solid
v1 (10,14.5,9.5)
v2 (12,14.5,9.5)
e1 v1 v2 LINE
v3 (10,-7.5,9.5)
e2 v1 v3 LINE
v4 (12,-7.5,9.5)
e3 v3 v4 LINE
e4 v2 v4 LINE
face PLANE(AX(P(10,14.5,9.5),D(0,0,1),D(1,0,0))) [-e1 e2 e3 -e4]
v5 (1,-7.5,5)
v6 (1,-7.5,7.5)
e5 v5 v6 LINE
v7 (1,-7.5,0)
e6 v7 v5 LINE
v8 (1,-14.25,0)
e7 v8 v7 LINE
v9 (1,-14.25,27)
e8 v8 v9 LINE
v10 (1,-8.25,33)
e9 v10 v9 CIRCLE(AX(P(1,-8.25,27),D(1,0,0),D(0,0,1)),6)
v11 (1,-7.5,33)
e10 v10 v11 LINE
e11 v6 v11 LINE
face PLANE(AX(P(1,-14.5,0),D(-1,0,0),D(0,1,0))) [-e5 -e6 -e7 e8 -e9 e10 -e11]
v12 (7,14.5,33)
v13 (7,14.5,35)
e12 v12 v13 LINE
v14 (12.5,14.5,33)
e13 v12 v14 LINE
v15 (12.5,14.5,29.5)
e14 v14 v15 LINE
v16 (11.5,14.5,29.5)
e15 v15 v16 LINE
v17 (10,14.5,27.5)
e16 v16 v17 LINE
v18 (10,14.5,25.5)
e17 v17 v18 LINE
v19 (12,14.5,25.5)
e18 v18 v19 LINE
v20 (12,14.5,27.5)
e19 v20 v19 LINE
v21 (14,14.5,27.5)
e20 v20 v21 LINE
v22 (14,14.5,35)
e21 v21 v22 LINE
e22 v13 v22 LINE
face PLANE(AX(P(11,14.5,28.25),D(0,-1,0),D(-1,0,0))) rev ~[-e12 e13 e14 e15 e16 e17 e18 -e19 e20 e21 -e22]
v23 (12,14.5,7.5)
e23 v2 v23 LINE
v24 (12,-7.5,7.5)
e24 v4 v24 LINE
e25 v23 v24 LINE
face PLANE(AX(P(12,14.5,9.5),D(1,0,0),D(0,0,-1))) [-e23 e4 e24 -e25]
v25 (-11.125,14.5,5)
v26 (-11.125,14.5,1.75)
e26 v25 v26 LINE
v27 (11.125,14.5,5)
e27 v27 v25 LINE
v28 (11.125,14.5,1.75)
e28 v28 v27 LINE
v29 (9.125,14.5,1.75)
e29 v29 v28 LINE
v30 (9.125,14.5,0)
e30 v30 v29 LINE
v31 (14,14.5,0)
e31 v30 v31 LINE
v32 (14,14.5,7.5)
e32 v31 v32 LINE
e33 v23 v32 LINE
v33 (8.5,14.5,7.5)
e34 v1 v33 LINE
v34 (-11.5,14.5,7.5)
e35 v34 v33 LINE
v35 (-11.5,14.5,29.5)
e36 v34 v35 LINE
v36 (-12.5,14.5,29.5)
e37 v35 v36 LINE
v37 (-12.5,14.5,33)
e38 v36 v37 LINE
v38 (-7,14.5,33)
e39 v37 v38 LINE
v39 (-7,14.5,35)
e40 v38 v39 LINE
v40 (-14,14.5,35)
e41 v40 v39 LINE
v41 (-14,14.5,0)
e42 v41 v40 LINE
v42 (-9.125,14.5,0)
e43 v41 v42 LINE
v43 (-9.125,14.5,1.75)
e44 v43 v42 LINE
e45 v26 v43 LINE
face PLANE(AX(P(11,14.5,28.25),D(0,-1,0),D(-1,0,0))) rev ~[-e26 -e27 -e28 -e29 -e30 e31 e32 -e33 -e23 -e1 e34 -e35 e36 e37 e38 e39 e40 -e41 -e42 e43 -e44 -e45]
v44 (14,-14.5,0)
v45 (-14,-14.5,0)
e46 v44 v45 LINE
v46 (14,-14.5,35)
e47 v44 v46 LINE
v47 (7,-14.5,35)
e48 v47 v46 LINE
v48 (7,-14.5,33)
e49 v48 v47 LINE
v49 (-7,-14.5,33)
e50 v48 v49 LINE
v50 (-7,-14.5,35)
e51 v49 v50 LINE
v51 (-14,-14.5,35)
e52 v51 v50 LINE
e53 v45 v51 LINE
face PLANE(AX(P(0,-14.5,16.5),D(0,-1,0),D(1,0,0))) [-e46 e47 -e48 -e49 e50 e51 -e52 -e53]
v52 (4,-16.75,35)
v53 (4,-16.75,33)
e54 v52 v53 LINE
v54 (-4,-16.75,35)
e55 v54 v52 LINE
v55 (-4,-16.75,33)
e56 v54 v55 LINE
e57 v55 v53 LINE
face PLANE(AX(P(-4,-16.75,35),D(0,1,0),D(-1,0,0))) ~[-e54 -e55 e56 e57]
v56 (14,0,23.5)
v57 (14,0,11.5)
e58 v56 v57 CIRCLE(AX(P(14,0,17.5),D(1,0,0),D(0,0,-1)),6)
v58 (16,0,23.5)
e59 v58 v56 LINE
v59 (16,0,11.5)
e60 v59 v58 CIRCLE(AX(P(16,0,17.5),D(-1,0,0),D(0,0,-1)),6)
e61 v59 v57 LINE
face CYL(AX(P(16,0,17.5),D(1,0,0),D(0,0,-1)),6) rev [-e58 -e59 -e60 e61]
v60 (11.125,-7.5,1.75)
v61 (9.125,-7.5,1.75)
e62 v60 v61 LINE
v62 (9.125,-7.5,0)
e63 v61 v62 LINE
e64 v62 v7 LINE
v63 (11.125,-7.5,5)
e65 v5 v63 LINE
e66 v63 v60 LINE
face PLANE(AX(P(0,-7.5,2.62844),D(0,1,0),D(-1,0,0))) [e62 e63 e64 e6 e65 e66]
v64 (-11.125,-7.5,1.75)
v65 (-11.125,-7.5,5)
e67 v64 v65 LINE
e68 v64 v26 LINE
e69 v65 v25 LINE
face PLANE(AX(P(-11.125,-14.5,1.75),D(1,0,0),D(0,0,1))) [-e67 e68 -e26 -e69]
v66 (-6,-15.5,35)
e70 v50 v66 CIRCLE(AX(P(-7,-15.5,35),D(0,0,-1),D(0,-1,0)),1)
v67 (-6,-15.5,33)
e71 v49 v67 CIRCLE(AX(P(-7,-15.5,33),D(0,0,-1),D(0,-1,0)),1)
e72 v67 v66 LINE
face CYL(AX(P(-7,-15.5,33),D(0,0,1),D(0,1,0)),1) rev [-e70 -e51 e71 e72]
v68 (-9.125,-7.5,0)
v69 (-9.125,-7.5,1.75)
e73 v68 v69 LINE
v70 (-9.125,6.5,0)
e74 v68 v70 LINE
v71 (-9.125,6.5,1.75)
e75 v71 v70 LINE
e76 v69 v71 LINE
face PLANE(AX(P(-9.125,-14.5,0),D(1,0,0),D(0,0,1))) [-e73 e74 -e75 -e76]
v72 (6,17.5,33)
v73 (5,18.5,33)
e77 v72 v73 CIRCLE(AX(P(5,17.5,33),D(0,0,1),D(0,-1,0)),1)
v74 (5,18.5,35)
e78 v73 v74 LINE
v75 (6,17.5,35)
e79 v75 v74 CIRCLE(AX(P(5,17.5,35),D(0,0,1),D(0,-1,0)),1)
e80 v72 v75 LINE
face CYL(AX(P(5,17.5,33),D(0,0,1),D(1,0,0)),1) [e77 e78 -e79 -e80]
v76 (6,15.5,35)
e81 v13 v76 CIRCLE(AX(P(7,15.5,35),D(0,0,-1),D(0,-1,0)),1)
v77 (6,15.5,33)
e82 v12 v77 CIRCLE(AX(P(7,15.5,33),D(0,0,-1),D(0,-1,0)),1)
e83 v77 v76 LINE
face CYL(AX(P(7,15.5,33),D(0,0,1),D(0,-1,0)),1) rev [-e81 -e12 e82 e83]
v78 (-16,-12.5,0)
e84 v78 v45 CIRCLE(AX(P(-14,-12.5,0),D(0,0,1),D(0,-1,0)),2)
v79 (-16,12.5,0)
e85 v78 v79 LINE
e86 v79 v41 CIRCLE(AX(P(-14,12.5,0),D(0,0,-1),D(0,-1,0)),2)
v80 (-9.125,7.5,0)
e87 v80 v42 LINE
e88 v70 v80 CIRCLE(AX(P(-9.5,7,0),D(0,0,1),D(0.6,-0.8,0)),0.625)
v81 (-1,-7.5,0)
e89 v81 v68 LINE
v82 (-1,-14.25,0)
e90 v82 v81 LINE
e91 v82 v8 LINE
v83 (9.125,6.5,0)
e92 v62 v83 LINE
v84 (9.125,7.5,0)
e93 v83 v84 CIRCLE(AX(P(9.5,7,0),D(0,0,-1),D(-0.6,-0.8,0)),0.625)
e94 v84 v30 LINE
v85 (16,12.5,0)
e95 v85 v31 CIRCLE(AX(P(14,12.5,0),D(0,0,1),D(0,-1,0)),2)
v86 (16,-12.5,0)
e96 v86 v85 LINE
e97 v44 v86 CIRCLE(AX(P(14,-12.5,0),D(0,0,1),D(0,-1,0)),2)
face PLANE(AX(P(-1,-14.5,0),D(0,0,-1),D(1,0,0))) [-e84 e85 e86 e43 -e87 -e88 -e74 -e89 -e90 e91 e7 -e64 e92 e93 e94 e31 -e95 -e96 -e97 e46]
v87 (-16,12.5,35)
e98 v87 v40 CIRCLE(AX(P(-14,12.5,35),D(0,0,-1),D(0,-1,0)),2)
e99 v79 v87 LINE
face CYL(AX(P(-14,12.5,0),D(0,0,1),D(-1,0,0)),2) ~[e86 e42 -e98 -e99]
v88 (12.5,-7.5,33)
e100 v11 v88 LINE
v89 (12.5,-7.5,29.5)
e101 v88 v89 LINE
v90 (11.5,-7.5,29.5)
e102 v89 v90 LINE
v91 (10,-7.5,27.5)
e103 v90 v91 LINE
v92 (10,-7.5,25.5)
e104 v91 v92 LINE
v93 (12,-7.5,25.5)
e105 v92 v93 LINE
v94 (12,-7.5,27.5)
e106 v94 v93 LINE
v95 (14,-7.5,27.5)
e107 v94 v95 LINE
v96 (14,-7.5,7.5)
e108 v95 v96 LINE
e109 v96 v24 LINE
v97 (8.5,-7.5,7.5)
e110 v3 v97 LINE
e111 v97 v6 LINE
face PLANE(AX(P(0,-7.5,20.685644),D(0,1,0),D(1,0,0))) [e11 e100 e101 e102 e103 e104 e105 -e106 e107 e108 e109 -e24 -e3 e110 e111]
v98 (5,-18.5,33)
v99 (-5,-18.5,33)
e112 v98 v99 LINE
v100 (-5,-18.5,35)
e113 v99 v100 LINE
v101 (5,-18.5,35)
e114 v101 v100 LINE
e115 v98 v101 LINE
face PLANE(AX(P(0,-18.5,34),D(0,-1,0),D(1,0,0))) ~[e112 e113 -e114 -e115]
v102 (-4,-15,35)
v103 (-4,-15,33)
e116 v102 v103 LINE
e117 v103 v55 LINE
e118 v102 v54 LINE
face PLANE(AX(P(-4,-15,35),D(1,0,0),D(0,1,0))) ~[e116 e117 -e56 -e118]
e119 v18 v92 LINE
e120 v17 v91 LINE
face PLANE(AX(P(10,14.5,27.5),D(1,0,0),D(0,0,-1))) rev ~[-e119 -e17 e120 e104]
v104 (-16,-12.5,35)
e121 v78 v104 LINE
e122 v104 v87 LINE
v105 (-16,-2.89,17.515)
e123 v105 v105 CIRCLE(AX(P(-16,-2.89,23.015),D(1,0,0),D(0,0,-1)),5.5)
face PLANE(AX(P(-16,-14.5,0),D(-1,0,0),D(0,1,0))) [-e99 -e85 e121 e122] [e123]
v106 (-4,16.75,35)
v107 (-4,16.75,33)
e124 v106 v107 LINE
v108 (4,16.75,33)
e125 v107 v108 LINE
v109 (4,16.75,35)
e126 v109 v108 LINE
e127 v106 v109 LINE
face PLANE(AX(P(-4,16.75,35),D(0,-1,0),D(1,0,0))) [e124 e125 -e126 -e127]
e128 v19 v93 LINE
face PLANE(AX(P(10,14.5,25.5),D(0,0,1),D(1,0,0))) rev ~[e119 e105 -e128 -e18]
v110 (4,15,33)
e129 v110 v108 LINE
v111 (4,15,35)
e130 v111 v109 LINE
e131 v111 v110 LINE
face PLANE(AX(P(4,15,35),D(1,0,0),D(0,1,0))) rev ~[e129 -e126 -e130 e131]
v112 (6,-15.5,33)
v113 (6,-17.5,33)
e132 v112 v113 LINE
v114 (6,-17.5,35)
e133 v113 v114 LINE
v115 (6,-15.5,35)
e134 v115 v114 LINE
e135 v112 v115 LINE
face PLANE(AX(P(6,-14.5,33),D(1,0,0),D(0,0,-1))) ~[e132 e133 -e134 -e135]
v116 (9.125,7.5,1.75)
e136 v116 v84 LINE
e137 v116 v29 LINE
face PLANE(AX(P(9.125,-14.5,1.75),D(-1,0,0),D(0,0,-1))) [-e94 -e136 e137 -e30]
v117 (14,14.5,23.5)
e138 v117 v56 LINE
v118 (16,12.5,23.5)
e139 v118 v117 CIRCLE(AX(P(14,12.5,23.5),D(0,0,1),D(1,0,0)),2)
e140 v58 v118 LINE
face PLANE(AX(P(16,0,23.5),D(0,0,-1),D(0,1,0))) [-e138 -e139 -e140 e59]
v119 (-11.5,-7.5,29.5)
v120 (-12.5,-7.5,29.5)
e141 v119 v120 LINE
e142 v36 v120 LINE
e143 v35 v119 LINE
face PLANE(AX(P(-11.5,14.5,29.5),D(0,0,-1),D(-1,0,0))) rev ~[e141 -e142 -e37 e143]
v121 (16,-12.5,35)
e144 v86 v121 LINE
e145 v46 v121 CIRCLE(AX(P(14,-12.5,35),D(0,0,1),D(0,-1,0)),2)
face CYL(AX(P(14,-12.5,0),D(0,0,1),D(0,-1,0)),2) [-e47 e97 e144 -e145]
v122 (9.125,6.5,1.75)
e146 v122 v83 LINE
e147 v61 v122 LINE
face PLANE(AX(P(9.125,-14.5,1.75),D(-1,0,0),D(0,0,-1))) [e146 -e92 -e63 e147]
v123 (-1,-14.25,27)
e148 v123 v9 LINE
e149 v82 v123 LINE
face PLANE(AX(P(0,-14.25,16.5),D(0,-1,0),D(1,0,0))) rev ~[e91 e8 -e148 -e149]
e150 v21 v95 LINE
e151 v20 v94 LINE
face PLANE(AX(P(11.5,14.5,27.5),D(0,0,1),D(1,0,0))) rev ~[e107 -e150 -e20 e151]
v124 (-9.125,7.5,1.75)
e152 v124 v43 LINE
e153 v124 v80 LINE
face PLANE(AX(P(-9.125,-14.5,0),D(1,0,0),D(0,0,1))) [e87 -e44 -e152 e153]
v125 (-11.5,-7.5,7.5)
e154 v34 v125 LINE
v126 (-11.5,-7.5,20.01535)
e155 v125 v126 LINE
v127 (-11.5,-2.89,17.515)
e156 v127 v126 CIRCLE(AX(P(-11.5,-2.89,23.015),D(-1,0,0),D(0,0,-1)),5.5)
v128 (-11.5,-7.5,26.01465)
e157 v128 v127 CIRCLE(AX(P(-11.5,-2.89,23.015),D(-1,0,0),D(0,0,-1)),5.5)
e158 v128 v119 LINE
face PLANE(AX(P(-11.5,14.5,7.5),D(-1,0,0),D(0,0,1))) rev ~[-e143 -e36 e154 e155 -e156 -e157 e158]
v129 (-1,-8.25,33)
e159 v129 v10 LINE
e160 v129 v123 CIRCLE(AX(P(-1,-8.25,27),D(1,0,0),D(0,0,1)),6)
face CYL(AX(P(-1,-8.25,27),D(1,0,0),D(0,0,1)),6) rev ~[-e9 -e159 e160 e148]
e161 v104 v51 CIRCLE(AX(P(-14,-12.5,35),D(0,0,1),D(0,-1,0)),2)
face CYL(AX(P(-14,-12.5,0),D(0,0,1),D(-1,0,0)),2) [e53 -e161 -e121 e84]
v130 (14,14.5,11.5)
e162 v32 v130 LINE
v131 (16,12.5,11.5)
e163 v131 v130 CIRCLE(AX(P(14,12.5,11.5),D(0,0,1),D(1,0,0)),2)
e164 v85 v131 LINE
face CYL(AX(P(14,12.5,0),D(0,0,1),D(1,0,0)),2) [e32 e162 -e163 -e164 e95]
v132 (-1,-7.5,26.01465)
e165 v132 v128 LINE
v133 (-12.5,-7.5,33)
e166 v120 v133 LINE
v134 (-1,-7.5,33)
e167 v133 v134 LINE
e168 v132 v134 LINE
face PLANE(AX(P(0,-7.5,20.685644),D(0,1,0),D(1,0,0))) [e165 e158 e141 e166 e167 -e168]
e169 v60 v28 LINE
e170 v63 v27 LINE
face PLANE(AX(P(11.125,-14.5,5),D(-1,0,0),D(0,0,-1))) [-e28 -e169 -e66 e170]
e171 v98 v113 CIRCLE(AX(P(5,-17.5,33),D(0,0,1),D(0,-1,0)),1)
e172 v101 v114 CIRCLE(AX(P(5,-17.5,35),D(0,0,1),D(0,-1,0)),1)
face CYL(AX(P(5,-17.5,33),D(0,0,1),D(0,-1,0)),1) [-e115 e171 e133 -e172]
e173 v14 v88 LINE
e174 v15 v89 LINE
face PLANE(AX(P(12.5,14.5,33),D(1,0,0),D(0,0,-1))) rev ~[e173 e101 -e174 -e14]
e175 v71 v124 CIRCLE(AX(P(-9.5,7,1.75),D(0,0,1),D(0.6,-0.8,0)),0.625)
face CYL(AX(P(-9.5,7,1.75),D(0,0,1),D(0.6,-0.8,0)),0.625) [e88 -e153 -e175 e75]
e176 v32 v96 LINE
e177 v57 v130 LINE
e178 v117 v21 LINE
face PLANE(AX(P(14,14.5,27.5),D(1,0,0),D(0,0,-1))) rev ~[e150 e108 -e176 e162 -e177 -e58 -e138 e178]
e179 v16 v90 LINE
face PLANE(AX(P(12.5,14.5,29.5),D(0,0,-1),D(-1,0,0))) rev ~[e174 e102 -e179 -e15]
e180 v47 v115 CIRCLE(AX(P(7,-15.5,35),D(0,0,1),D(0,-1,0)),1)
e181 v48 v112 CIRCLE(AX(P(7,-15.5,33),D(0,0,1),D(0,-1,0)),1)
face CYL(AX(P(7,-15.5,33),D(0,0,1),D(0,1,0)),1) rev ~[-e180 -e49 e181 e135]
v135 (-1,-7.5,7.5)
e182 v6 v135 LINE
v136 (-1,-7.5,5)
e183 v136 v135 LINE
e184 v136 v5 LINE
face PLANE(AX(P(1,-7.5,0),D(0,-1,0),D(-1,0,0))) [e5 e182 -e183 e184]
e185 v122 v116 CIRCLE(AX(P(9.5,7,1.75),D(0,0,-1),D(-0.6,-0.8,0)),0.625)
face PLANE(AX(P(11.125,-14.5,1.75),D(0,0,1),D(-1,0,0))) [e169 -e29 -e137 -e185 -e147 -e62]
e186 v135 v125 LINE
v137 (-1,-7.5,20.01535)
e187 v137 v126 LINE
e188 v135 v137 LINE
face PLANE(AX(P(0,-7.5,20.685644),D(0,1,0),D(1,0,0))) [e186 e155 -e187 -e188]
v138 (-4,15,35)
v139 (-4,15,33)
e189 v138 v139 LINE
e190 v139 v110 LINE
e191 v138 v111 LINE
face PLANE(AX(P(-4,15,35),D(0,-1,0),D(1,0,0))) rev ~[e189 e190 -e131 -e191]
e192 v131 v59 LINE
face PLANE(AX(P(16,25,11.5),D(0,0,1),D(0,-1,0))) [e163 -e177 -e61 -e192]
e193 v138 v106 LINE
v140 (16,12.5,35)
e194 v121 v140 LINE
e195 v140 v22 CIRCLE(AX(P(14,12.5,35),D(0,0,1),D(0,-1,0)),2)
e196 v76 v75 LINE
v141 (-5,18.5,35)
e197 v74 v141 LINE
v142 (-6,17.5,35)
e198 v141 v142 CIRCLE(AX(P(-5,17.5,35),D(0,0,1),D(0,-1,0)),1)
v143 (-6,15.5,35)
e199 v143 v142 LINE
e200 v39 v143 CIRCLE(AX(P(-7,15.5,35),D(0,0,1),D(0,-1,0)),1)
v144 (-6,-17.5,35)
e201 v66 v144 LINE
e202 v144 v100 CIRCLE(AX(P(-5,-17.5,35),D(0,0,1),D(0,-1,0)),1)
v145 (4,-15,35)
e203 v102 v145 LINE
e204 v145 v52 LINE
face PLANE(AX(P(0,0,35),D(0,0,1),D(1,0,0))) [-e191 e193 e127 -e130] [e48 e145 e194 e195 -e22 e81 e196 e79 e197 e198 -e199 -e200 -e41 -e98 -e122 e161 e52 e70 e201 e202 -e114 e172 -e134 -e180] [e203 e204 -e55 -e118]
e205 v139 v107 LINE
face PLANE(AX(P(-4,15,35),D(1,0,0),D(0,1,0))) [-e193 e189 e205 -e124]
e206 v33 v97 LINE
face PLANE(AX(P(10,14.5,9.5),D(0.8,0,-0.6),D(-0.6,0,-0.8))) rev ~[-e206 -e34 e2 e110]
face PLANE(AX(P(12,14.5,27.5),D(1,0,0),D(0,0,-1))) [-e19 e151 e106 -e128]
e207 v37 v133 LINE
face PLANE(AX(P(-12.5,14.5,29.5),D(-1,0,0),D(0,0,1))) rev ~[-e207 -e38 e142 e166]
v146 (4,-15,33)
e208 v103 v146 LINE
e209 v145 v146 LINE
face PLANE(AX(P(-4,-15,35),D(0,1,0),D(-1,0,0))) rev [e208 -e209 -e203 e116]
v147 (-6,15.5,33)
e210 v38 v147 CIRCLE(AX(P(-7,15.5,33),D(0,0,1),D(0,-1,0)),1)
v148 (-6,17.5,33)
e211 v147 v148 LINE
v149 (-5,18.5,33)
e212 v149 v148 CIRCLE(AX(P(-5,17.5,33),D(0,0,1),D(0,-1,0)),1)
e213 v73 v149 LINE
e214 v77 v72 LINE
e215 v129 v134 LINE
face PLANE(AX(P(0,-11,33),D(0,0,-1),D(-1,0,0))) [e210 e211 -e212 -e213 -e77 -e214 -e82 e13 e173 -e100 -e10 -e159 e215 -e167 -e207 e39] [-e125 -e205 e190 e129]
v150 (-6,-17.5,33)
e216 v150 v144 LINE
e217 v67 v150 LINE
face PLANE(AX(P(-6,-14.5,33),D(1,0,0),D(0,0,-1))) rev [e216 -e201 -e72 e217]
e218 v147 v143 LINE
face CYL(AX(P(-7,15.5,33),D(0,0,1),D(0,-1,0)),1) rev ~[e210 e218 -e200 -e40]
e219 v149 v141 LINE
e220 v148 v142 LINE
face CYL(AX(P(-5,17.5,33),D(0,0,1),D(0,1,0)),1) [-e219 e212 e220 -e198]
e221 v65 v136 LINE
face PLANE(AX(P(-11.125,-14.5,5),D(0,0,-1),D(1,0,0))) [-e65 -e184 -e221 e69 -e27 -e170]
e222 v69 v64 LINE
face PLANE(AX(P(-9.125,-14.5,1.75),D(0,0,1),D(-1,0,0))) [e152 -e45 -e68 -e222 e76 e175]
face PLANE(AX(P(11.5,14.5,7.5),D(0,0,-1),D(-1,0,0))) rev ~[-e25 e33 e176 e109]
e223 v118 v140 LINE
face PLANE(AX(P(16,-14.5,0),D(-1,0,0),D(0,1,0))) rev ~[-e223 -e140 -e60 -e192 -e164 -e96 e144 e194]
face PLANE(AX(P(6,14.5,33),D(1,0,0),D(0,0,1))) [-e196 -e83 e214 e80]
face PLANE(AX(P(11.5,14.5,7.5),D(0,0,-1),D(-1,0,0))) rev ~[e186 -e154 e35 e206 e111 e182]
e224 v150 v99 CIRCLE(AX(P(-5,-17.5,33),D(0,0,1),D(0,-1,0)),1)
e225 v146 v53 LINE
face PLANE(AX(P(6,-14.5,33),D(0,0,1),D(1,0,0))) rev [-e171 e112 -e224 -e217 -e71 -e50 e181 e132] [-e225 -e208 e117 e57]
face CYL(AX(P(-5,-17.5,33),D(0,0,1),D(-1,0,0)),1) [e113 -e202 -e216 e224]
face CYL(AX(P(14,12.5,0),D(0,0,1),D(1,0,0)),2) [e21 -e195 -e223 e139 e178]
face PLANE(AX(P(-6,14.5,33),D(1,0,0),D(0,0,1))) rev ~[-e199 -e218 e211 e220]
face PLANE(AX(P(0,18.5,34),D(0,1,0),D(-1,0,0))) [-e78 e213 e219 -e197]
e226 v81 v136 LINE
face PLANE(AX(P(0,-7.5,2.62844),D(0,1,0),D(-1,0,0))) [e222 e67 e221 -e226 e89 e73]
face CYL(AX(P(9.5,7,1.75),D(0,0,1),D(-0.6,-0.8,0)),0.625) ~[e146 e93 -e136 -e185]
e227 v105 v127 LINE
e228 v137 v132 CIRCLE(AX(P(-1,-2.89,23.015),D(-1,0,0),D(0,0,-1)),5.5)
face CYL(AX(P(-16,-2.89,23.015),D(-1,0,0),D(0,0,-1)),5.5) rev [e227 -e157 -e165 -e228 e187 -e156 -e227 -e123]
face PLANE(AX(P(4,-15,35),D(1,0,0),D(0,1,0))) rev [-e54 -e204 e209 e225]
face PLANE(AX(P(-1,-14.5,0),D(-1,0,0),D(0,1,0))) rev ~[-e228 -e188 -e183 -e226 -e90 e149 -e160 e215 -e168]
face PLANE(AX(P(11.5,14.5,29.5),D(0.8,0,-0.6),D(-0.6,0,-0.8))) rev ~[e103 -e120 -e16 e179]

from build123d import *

# Parameters (mm, degrees)
SKETCH1_W                         = 32
SKETCH1_H                         = 29
BOSS_EXTRUDE1_DEPTH               = 35
FILLET1_R                         = 2
SLOT_FOR_COIL_DEPTH               = 1
SLOT_FOR_COIL_DEPTH_BACK          = 30
BOSS_EXTRUDE2_DEPTH               = 7
BOSS_EXTRUDE3_DEPTH               = 1.75
SKETCH5_W                         = 2
SKETCH5_H                         = 7
SLOT_TO_FEED_IN_WIRE_DEPTH        = 33
SLOT_FO_PCB_DEPTH                 = 22
SKETCH7_W                         = 2
SKETCH7_H                         = 33
BOSS_EXTRUDE4_DEPTH               = 0.25
FILLET2_R                         = 6
ROD_MOUNT_SLOT_REACH              = 34
SKETCH14_W                        = 2.5
SKETCH14_H                        = 20
SIDE_CAVITY_FOR_MOUNT_PLATE_DEPTH = 22
SKETCH16_W                        = 2
SKETCH16_H                        = 2
SIDE_STOPS_FOR_MOUNT_PLATE_DEPTH  = 22
BOSS_EXTRUDE6_DEPTH               = 22
SKETCH21_W                        = 12
SKETCH21_H                        = 2
BOSS_EXTRUDE7_DEPTH               = 4
SKETCH23_W                        = 8
SKETCH23_H                        = 1.75
CUT_EXTRUDE7_DEPTH                = 2
FILLET3_R                         = 1
CUT_EXTRUDE8_REACH                = 34
SKETCH26_R                        = 5.5


with BuildPart() as part:
    # Sketch1 → Boss-Extrude1 (new body)
    with BuildSketch(Plane.XY):
        Rectangle(SKETCH1_W, SKETCH1_H)
    extrude(amount=BOSS_EXTRUDE1_DEPTH)

    # Fillet1
    fillet1_edges = [part.edges().sort_by_distance(p)[0] for p in [
        (16, -14.5, 17.5),
        (-16, -14.5, 17.5),
        (-16, 14.5, 17.5),
        (16, 14.5, 17.5),
    ]]
    fillet(fillet1_edges, radius=FILLET1_R)

    # Sketch2 → Slot for Coil (cut, two sides)
    with BuildSketch(Plane.XZ.offset(14.5)) as slot_for_coil_sk:
        Polygon((-9.125, 0), (-9.125, 1.75), (-11.125, 1.75), (-11.125, 5), (11.125, 5), (11.125, 1.75), (9.125, 1.75), (9.125, 0), align=None)
    extrude(amount=SLOT_FOR_COIL_DEPTH, mode=Mode.SUBTRACT)
    extrude(slot_for_coil_sk.sketch, amount=-SLOT_FOR_COIL_DEPTH_BACK, mode=Mode.SUBTRACT)

    # Sketch3 → Boss-Extrude2 (add)
    with BuildSketch(Plane.XZ.offset(14.5)):
        Polygon((-9.125, 0), (-9.125, 1.75), (-11.125, 1.75), (-11.125, 5), (11.125, 5), (11.125, 1.75), (9.125, 1.75), (9.125, 0), align=None)
    extrude(amount=-BOSS_EXTRUDE2_DEPTH)

    # Sketch4 → Boss-Extrude3 (add)
    with BuildSketch(Plane(origin=(0, 0, 1.75), x_dir=(-1, 0, 0), z_dir=(0, 0, -1))):
        with BuildLine():
            Line((-9.125, 7.5), (-9.125, 6.5))
            ThreePointArc((-9.125, 6.5), (-8.875, 7), (-9.125, 7.5))
        make_face()
    boss_extrude3 = extrude(amount=BOSS_EXTRUDE3_DEPTH)

    # Mirror1: Boss-Extrude3 across plane
    add(boss_extrude3.mirror(Plane(origin=(0, 0, 0), x_dir=(0, 0, 1), z_dir=(1, 0, 0))))

    # Sketch5 → slot to feed in wire (cut)
    with BuildSketch(Plane(origin=(0, 0, 0), x_dir=(-1, 0, 0), z_dir=(0, 0, -1))):
        with Locations((0, -11)):
            Rectangle(SKETCH5_W, SKETCH5_H)
    extrude(amount=-SLOT_TO_FEED_IN_WIRE_DEPTH, mode=Mode.SUBTRACT)

    # Sketch6 → slot fo PCB (cut)
    with BuildSketch(Plane(origin=(0, 14.5, 0), x_dir=(1, 0, 0), z_dir=(0, 1, 0))):
        Polygon((11.5, -7.5), (-11.5, -7.5), (-11.5, -29.5), (-12.5, -29.5), (-12.5, -33), (12.5, -33), (12.5, -29.5), (11.5, -29.5), align=None)
    extrude(amount=-SLOT_FO_PCB_DEPTH, mode=Mode.SUBTRACT)

    # Sketch7 → Boss-Extrude4 (add)
    with BuildSketch(Plane.XZ.offset(14.5)):
        with Locations((0, 16.5)):
            Rectangle(SKETCH7_W, SKETCH7_H)
    extrude(amount=-BOSS_EXTRUDE4_DEPTH)

    # Fillet2
    fillet2_edges = [part.edges().sort_by_distance(p)[0] for p in [
        (0, -14.25, 33),
    ]]
    fillet(fillet2_edges, radius=FILLET2_R)

    # Sketch11 → Rod Mount Slot (cut, up to next)
    with BuildSketch(Plane(origin=(16, 0, 44), x_dir=(0, 0, -1), z_dir=(1, 0, 0)), mode=Mode.PRIVATE) as rod_mount_slot_sk1:
        with BuildLine():
            Line((32.5, 25), (32.5, 0))
            ThreePointArc((32.5, 0), (26.5, -6), (20.5, 0))
            Line((20.5, 0), (20.5, 25))
            ThreePointArc((20.5, 25), (26.5, 31), (32.5, 25))
        make_face()
    rod_mount_slot_tool1 = extrude(rod_mount_slot_sk1.sketch, amount=-ROD_MOUNT_SLOT_REACH, mode=Mode.PRIVATE) & part.part
    add(rod_mount_slot_tool1.solids().sort_by_distance((16, 12.5, 17.5))[0], mode=Mode.SUBTRACT)

    # Sketch14 → Side cavity for mount plate (cut)
    with BuildSketch(Plane(origin=(0, 14.5, 0), x_dir=(1, 0, 0), z_dir=(0, 1, 0))):
        with Locations((12.75, -17.5)):
            Rectangle(SKETCH14_W, SKETCH14_H)
    extrude(amount=-SIDE_CAVITY_FOR_MOUNT_PLATE_DEPTH, mode=Mode.SUBTRACT)

    # Sketch16 → Side stops for mount plate (add)
    with BuildSketch(Plane(origin=(0, 14.5, 0), x_dir=(1, 0, 0), z_dir=(0, 1, 0))):
        with Locations((11, -8.5)):
            Rectangle(SKETCH16_W, SKETCH16_H)
        with Locations((11, -26.5)):
            Rectangle(SKETCH16_W, SKETCH16_H)
    extrude(amount=-SIDE_STOPS_FOR_MOUNT_PLATE_DEPTH)

    # Sketch20 → Boss-Extrude6 (add)
    with BuildSketch(Plane(origin=(0, 14.5, 0), x_dir=(1, 0, 0), z_dir=(0, 1, 0))):
        Polygon((11.5, -29.5), (10, -27.5), (11.5, -27.5), align=None)
        Polygon((10, -9.5), (8.5, -7.5), (10, -7.5), align=None)
    extrude(amount=-BOSS_EXTRUDE6_DEPTH)

    # Sketch21 → Boss-Extrude7 (add)
    with BuildSketch(Plane(origin=(0, 14.5, 0), x_dir=(-1, 0, 0), z_dir=(0, 1, 0))):
        with Locations((0, 34)):
            Rectangle(SKETCH21_W, SKETCH21_H)
    boss_extrude7 = extrude(amount=BOSS_EXTRUDE7_DEPTH)

    # Sketch23 → Cut-Extrude7 (cut)
    with BuildSketch(Plane.XY.offset(35)):
        with Locations((0, 15.875)):
            Rectangle(SKETCH23_W, SKETCH23_H)
    cut_extrude7 = extrude(amount=-CUT_EXTRUDE7_DEPTH, mode=Mode.SUBTRACT)

    # Mirror3: Boss-Extrude7, Cut-Extrude7 across plane
    add(boss_extrude7.mirror(Plane.ZX))
    add(cut_extrude7.mirror(Plane.ZX), mode=Mode.SUBTRACT)

    # Fillet3
    fillet3_edges = [part.edges().sort_by_distance(p)[0] for p in [
        (6, 14.5, 34),
        (-6, 14.5, 34),
        (6, 18.5, 34),
        (-6, 18.5, 34),
        (6, -18.5, 34),
        (-6, -18.5, 34),
        (6, -14.5, 34),
        (-6, -14.5, 34),
    ]]
    fillet(fillet3_edges, radius=FILLET3_R)

    # Sketch26 → Cut-Extrude8 (cut, up to next)
    with BuildSketch(Plane(origin=(-16, 0, 0), x_dir=(0, 0, -1), z_dir=(1, 0, 0)), mode=Mode.PRIVATE) as cut_extrude8_sk1:
        with Locations((-23.015, -2.89)):
            Circle(SKETCH26_R)
    cut_extrude8_tool1 = extrude(cut_extrude8_sk1.sketch, amount=CUT_EXTRUDE8_REACH, mode=Mode.PRIVATE) & part.part
    add(cut_extrude8_tool1.solids().sort_by_distance((-16, -2.89, 23.015))[0], mode=Mode.SUBTRACT)


solid = part.part
